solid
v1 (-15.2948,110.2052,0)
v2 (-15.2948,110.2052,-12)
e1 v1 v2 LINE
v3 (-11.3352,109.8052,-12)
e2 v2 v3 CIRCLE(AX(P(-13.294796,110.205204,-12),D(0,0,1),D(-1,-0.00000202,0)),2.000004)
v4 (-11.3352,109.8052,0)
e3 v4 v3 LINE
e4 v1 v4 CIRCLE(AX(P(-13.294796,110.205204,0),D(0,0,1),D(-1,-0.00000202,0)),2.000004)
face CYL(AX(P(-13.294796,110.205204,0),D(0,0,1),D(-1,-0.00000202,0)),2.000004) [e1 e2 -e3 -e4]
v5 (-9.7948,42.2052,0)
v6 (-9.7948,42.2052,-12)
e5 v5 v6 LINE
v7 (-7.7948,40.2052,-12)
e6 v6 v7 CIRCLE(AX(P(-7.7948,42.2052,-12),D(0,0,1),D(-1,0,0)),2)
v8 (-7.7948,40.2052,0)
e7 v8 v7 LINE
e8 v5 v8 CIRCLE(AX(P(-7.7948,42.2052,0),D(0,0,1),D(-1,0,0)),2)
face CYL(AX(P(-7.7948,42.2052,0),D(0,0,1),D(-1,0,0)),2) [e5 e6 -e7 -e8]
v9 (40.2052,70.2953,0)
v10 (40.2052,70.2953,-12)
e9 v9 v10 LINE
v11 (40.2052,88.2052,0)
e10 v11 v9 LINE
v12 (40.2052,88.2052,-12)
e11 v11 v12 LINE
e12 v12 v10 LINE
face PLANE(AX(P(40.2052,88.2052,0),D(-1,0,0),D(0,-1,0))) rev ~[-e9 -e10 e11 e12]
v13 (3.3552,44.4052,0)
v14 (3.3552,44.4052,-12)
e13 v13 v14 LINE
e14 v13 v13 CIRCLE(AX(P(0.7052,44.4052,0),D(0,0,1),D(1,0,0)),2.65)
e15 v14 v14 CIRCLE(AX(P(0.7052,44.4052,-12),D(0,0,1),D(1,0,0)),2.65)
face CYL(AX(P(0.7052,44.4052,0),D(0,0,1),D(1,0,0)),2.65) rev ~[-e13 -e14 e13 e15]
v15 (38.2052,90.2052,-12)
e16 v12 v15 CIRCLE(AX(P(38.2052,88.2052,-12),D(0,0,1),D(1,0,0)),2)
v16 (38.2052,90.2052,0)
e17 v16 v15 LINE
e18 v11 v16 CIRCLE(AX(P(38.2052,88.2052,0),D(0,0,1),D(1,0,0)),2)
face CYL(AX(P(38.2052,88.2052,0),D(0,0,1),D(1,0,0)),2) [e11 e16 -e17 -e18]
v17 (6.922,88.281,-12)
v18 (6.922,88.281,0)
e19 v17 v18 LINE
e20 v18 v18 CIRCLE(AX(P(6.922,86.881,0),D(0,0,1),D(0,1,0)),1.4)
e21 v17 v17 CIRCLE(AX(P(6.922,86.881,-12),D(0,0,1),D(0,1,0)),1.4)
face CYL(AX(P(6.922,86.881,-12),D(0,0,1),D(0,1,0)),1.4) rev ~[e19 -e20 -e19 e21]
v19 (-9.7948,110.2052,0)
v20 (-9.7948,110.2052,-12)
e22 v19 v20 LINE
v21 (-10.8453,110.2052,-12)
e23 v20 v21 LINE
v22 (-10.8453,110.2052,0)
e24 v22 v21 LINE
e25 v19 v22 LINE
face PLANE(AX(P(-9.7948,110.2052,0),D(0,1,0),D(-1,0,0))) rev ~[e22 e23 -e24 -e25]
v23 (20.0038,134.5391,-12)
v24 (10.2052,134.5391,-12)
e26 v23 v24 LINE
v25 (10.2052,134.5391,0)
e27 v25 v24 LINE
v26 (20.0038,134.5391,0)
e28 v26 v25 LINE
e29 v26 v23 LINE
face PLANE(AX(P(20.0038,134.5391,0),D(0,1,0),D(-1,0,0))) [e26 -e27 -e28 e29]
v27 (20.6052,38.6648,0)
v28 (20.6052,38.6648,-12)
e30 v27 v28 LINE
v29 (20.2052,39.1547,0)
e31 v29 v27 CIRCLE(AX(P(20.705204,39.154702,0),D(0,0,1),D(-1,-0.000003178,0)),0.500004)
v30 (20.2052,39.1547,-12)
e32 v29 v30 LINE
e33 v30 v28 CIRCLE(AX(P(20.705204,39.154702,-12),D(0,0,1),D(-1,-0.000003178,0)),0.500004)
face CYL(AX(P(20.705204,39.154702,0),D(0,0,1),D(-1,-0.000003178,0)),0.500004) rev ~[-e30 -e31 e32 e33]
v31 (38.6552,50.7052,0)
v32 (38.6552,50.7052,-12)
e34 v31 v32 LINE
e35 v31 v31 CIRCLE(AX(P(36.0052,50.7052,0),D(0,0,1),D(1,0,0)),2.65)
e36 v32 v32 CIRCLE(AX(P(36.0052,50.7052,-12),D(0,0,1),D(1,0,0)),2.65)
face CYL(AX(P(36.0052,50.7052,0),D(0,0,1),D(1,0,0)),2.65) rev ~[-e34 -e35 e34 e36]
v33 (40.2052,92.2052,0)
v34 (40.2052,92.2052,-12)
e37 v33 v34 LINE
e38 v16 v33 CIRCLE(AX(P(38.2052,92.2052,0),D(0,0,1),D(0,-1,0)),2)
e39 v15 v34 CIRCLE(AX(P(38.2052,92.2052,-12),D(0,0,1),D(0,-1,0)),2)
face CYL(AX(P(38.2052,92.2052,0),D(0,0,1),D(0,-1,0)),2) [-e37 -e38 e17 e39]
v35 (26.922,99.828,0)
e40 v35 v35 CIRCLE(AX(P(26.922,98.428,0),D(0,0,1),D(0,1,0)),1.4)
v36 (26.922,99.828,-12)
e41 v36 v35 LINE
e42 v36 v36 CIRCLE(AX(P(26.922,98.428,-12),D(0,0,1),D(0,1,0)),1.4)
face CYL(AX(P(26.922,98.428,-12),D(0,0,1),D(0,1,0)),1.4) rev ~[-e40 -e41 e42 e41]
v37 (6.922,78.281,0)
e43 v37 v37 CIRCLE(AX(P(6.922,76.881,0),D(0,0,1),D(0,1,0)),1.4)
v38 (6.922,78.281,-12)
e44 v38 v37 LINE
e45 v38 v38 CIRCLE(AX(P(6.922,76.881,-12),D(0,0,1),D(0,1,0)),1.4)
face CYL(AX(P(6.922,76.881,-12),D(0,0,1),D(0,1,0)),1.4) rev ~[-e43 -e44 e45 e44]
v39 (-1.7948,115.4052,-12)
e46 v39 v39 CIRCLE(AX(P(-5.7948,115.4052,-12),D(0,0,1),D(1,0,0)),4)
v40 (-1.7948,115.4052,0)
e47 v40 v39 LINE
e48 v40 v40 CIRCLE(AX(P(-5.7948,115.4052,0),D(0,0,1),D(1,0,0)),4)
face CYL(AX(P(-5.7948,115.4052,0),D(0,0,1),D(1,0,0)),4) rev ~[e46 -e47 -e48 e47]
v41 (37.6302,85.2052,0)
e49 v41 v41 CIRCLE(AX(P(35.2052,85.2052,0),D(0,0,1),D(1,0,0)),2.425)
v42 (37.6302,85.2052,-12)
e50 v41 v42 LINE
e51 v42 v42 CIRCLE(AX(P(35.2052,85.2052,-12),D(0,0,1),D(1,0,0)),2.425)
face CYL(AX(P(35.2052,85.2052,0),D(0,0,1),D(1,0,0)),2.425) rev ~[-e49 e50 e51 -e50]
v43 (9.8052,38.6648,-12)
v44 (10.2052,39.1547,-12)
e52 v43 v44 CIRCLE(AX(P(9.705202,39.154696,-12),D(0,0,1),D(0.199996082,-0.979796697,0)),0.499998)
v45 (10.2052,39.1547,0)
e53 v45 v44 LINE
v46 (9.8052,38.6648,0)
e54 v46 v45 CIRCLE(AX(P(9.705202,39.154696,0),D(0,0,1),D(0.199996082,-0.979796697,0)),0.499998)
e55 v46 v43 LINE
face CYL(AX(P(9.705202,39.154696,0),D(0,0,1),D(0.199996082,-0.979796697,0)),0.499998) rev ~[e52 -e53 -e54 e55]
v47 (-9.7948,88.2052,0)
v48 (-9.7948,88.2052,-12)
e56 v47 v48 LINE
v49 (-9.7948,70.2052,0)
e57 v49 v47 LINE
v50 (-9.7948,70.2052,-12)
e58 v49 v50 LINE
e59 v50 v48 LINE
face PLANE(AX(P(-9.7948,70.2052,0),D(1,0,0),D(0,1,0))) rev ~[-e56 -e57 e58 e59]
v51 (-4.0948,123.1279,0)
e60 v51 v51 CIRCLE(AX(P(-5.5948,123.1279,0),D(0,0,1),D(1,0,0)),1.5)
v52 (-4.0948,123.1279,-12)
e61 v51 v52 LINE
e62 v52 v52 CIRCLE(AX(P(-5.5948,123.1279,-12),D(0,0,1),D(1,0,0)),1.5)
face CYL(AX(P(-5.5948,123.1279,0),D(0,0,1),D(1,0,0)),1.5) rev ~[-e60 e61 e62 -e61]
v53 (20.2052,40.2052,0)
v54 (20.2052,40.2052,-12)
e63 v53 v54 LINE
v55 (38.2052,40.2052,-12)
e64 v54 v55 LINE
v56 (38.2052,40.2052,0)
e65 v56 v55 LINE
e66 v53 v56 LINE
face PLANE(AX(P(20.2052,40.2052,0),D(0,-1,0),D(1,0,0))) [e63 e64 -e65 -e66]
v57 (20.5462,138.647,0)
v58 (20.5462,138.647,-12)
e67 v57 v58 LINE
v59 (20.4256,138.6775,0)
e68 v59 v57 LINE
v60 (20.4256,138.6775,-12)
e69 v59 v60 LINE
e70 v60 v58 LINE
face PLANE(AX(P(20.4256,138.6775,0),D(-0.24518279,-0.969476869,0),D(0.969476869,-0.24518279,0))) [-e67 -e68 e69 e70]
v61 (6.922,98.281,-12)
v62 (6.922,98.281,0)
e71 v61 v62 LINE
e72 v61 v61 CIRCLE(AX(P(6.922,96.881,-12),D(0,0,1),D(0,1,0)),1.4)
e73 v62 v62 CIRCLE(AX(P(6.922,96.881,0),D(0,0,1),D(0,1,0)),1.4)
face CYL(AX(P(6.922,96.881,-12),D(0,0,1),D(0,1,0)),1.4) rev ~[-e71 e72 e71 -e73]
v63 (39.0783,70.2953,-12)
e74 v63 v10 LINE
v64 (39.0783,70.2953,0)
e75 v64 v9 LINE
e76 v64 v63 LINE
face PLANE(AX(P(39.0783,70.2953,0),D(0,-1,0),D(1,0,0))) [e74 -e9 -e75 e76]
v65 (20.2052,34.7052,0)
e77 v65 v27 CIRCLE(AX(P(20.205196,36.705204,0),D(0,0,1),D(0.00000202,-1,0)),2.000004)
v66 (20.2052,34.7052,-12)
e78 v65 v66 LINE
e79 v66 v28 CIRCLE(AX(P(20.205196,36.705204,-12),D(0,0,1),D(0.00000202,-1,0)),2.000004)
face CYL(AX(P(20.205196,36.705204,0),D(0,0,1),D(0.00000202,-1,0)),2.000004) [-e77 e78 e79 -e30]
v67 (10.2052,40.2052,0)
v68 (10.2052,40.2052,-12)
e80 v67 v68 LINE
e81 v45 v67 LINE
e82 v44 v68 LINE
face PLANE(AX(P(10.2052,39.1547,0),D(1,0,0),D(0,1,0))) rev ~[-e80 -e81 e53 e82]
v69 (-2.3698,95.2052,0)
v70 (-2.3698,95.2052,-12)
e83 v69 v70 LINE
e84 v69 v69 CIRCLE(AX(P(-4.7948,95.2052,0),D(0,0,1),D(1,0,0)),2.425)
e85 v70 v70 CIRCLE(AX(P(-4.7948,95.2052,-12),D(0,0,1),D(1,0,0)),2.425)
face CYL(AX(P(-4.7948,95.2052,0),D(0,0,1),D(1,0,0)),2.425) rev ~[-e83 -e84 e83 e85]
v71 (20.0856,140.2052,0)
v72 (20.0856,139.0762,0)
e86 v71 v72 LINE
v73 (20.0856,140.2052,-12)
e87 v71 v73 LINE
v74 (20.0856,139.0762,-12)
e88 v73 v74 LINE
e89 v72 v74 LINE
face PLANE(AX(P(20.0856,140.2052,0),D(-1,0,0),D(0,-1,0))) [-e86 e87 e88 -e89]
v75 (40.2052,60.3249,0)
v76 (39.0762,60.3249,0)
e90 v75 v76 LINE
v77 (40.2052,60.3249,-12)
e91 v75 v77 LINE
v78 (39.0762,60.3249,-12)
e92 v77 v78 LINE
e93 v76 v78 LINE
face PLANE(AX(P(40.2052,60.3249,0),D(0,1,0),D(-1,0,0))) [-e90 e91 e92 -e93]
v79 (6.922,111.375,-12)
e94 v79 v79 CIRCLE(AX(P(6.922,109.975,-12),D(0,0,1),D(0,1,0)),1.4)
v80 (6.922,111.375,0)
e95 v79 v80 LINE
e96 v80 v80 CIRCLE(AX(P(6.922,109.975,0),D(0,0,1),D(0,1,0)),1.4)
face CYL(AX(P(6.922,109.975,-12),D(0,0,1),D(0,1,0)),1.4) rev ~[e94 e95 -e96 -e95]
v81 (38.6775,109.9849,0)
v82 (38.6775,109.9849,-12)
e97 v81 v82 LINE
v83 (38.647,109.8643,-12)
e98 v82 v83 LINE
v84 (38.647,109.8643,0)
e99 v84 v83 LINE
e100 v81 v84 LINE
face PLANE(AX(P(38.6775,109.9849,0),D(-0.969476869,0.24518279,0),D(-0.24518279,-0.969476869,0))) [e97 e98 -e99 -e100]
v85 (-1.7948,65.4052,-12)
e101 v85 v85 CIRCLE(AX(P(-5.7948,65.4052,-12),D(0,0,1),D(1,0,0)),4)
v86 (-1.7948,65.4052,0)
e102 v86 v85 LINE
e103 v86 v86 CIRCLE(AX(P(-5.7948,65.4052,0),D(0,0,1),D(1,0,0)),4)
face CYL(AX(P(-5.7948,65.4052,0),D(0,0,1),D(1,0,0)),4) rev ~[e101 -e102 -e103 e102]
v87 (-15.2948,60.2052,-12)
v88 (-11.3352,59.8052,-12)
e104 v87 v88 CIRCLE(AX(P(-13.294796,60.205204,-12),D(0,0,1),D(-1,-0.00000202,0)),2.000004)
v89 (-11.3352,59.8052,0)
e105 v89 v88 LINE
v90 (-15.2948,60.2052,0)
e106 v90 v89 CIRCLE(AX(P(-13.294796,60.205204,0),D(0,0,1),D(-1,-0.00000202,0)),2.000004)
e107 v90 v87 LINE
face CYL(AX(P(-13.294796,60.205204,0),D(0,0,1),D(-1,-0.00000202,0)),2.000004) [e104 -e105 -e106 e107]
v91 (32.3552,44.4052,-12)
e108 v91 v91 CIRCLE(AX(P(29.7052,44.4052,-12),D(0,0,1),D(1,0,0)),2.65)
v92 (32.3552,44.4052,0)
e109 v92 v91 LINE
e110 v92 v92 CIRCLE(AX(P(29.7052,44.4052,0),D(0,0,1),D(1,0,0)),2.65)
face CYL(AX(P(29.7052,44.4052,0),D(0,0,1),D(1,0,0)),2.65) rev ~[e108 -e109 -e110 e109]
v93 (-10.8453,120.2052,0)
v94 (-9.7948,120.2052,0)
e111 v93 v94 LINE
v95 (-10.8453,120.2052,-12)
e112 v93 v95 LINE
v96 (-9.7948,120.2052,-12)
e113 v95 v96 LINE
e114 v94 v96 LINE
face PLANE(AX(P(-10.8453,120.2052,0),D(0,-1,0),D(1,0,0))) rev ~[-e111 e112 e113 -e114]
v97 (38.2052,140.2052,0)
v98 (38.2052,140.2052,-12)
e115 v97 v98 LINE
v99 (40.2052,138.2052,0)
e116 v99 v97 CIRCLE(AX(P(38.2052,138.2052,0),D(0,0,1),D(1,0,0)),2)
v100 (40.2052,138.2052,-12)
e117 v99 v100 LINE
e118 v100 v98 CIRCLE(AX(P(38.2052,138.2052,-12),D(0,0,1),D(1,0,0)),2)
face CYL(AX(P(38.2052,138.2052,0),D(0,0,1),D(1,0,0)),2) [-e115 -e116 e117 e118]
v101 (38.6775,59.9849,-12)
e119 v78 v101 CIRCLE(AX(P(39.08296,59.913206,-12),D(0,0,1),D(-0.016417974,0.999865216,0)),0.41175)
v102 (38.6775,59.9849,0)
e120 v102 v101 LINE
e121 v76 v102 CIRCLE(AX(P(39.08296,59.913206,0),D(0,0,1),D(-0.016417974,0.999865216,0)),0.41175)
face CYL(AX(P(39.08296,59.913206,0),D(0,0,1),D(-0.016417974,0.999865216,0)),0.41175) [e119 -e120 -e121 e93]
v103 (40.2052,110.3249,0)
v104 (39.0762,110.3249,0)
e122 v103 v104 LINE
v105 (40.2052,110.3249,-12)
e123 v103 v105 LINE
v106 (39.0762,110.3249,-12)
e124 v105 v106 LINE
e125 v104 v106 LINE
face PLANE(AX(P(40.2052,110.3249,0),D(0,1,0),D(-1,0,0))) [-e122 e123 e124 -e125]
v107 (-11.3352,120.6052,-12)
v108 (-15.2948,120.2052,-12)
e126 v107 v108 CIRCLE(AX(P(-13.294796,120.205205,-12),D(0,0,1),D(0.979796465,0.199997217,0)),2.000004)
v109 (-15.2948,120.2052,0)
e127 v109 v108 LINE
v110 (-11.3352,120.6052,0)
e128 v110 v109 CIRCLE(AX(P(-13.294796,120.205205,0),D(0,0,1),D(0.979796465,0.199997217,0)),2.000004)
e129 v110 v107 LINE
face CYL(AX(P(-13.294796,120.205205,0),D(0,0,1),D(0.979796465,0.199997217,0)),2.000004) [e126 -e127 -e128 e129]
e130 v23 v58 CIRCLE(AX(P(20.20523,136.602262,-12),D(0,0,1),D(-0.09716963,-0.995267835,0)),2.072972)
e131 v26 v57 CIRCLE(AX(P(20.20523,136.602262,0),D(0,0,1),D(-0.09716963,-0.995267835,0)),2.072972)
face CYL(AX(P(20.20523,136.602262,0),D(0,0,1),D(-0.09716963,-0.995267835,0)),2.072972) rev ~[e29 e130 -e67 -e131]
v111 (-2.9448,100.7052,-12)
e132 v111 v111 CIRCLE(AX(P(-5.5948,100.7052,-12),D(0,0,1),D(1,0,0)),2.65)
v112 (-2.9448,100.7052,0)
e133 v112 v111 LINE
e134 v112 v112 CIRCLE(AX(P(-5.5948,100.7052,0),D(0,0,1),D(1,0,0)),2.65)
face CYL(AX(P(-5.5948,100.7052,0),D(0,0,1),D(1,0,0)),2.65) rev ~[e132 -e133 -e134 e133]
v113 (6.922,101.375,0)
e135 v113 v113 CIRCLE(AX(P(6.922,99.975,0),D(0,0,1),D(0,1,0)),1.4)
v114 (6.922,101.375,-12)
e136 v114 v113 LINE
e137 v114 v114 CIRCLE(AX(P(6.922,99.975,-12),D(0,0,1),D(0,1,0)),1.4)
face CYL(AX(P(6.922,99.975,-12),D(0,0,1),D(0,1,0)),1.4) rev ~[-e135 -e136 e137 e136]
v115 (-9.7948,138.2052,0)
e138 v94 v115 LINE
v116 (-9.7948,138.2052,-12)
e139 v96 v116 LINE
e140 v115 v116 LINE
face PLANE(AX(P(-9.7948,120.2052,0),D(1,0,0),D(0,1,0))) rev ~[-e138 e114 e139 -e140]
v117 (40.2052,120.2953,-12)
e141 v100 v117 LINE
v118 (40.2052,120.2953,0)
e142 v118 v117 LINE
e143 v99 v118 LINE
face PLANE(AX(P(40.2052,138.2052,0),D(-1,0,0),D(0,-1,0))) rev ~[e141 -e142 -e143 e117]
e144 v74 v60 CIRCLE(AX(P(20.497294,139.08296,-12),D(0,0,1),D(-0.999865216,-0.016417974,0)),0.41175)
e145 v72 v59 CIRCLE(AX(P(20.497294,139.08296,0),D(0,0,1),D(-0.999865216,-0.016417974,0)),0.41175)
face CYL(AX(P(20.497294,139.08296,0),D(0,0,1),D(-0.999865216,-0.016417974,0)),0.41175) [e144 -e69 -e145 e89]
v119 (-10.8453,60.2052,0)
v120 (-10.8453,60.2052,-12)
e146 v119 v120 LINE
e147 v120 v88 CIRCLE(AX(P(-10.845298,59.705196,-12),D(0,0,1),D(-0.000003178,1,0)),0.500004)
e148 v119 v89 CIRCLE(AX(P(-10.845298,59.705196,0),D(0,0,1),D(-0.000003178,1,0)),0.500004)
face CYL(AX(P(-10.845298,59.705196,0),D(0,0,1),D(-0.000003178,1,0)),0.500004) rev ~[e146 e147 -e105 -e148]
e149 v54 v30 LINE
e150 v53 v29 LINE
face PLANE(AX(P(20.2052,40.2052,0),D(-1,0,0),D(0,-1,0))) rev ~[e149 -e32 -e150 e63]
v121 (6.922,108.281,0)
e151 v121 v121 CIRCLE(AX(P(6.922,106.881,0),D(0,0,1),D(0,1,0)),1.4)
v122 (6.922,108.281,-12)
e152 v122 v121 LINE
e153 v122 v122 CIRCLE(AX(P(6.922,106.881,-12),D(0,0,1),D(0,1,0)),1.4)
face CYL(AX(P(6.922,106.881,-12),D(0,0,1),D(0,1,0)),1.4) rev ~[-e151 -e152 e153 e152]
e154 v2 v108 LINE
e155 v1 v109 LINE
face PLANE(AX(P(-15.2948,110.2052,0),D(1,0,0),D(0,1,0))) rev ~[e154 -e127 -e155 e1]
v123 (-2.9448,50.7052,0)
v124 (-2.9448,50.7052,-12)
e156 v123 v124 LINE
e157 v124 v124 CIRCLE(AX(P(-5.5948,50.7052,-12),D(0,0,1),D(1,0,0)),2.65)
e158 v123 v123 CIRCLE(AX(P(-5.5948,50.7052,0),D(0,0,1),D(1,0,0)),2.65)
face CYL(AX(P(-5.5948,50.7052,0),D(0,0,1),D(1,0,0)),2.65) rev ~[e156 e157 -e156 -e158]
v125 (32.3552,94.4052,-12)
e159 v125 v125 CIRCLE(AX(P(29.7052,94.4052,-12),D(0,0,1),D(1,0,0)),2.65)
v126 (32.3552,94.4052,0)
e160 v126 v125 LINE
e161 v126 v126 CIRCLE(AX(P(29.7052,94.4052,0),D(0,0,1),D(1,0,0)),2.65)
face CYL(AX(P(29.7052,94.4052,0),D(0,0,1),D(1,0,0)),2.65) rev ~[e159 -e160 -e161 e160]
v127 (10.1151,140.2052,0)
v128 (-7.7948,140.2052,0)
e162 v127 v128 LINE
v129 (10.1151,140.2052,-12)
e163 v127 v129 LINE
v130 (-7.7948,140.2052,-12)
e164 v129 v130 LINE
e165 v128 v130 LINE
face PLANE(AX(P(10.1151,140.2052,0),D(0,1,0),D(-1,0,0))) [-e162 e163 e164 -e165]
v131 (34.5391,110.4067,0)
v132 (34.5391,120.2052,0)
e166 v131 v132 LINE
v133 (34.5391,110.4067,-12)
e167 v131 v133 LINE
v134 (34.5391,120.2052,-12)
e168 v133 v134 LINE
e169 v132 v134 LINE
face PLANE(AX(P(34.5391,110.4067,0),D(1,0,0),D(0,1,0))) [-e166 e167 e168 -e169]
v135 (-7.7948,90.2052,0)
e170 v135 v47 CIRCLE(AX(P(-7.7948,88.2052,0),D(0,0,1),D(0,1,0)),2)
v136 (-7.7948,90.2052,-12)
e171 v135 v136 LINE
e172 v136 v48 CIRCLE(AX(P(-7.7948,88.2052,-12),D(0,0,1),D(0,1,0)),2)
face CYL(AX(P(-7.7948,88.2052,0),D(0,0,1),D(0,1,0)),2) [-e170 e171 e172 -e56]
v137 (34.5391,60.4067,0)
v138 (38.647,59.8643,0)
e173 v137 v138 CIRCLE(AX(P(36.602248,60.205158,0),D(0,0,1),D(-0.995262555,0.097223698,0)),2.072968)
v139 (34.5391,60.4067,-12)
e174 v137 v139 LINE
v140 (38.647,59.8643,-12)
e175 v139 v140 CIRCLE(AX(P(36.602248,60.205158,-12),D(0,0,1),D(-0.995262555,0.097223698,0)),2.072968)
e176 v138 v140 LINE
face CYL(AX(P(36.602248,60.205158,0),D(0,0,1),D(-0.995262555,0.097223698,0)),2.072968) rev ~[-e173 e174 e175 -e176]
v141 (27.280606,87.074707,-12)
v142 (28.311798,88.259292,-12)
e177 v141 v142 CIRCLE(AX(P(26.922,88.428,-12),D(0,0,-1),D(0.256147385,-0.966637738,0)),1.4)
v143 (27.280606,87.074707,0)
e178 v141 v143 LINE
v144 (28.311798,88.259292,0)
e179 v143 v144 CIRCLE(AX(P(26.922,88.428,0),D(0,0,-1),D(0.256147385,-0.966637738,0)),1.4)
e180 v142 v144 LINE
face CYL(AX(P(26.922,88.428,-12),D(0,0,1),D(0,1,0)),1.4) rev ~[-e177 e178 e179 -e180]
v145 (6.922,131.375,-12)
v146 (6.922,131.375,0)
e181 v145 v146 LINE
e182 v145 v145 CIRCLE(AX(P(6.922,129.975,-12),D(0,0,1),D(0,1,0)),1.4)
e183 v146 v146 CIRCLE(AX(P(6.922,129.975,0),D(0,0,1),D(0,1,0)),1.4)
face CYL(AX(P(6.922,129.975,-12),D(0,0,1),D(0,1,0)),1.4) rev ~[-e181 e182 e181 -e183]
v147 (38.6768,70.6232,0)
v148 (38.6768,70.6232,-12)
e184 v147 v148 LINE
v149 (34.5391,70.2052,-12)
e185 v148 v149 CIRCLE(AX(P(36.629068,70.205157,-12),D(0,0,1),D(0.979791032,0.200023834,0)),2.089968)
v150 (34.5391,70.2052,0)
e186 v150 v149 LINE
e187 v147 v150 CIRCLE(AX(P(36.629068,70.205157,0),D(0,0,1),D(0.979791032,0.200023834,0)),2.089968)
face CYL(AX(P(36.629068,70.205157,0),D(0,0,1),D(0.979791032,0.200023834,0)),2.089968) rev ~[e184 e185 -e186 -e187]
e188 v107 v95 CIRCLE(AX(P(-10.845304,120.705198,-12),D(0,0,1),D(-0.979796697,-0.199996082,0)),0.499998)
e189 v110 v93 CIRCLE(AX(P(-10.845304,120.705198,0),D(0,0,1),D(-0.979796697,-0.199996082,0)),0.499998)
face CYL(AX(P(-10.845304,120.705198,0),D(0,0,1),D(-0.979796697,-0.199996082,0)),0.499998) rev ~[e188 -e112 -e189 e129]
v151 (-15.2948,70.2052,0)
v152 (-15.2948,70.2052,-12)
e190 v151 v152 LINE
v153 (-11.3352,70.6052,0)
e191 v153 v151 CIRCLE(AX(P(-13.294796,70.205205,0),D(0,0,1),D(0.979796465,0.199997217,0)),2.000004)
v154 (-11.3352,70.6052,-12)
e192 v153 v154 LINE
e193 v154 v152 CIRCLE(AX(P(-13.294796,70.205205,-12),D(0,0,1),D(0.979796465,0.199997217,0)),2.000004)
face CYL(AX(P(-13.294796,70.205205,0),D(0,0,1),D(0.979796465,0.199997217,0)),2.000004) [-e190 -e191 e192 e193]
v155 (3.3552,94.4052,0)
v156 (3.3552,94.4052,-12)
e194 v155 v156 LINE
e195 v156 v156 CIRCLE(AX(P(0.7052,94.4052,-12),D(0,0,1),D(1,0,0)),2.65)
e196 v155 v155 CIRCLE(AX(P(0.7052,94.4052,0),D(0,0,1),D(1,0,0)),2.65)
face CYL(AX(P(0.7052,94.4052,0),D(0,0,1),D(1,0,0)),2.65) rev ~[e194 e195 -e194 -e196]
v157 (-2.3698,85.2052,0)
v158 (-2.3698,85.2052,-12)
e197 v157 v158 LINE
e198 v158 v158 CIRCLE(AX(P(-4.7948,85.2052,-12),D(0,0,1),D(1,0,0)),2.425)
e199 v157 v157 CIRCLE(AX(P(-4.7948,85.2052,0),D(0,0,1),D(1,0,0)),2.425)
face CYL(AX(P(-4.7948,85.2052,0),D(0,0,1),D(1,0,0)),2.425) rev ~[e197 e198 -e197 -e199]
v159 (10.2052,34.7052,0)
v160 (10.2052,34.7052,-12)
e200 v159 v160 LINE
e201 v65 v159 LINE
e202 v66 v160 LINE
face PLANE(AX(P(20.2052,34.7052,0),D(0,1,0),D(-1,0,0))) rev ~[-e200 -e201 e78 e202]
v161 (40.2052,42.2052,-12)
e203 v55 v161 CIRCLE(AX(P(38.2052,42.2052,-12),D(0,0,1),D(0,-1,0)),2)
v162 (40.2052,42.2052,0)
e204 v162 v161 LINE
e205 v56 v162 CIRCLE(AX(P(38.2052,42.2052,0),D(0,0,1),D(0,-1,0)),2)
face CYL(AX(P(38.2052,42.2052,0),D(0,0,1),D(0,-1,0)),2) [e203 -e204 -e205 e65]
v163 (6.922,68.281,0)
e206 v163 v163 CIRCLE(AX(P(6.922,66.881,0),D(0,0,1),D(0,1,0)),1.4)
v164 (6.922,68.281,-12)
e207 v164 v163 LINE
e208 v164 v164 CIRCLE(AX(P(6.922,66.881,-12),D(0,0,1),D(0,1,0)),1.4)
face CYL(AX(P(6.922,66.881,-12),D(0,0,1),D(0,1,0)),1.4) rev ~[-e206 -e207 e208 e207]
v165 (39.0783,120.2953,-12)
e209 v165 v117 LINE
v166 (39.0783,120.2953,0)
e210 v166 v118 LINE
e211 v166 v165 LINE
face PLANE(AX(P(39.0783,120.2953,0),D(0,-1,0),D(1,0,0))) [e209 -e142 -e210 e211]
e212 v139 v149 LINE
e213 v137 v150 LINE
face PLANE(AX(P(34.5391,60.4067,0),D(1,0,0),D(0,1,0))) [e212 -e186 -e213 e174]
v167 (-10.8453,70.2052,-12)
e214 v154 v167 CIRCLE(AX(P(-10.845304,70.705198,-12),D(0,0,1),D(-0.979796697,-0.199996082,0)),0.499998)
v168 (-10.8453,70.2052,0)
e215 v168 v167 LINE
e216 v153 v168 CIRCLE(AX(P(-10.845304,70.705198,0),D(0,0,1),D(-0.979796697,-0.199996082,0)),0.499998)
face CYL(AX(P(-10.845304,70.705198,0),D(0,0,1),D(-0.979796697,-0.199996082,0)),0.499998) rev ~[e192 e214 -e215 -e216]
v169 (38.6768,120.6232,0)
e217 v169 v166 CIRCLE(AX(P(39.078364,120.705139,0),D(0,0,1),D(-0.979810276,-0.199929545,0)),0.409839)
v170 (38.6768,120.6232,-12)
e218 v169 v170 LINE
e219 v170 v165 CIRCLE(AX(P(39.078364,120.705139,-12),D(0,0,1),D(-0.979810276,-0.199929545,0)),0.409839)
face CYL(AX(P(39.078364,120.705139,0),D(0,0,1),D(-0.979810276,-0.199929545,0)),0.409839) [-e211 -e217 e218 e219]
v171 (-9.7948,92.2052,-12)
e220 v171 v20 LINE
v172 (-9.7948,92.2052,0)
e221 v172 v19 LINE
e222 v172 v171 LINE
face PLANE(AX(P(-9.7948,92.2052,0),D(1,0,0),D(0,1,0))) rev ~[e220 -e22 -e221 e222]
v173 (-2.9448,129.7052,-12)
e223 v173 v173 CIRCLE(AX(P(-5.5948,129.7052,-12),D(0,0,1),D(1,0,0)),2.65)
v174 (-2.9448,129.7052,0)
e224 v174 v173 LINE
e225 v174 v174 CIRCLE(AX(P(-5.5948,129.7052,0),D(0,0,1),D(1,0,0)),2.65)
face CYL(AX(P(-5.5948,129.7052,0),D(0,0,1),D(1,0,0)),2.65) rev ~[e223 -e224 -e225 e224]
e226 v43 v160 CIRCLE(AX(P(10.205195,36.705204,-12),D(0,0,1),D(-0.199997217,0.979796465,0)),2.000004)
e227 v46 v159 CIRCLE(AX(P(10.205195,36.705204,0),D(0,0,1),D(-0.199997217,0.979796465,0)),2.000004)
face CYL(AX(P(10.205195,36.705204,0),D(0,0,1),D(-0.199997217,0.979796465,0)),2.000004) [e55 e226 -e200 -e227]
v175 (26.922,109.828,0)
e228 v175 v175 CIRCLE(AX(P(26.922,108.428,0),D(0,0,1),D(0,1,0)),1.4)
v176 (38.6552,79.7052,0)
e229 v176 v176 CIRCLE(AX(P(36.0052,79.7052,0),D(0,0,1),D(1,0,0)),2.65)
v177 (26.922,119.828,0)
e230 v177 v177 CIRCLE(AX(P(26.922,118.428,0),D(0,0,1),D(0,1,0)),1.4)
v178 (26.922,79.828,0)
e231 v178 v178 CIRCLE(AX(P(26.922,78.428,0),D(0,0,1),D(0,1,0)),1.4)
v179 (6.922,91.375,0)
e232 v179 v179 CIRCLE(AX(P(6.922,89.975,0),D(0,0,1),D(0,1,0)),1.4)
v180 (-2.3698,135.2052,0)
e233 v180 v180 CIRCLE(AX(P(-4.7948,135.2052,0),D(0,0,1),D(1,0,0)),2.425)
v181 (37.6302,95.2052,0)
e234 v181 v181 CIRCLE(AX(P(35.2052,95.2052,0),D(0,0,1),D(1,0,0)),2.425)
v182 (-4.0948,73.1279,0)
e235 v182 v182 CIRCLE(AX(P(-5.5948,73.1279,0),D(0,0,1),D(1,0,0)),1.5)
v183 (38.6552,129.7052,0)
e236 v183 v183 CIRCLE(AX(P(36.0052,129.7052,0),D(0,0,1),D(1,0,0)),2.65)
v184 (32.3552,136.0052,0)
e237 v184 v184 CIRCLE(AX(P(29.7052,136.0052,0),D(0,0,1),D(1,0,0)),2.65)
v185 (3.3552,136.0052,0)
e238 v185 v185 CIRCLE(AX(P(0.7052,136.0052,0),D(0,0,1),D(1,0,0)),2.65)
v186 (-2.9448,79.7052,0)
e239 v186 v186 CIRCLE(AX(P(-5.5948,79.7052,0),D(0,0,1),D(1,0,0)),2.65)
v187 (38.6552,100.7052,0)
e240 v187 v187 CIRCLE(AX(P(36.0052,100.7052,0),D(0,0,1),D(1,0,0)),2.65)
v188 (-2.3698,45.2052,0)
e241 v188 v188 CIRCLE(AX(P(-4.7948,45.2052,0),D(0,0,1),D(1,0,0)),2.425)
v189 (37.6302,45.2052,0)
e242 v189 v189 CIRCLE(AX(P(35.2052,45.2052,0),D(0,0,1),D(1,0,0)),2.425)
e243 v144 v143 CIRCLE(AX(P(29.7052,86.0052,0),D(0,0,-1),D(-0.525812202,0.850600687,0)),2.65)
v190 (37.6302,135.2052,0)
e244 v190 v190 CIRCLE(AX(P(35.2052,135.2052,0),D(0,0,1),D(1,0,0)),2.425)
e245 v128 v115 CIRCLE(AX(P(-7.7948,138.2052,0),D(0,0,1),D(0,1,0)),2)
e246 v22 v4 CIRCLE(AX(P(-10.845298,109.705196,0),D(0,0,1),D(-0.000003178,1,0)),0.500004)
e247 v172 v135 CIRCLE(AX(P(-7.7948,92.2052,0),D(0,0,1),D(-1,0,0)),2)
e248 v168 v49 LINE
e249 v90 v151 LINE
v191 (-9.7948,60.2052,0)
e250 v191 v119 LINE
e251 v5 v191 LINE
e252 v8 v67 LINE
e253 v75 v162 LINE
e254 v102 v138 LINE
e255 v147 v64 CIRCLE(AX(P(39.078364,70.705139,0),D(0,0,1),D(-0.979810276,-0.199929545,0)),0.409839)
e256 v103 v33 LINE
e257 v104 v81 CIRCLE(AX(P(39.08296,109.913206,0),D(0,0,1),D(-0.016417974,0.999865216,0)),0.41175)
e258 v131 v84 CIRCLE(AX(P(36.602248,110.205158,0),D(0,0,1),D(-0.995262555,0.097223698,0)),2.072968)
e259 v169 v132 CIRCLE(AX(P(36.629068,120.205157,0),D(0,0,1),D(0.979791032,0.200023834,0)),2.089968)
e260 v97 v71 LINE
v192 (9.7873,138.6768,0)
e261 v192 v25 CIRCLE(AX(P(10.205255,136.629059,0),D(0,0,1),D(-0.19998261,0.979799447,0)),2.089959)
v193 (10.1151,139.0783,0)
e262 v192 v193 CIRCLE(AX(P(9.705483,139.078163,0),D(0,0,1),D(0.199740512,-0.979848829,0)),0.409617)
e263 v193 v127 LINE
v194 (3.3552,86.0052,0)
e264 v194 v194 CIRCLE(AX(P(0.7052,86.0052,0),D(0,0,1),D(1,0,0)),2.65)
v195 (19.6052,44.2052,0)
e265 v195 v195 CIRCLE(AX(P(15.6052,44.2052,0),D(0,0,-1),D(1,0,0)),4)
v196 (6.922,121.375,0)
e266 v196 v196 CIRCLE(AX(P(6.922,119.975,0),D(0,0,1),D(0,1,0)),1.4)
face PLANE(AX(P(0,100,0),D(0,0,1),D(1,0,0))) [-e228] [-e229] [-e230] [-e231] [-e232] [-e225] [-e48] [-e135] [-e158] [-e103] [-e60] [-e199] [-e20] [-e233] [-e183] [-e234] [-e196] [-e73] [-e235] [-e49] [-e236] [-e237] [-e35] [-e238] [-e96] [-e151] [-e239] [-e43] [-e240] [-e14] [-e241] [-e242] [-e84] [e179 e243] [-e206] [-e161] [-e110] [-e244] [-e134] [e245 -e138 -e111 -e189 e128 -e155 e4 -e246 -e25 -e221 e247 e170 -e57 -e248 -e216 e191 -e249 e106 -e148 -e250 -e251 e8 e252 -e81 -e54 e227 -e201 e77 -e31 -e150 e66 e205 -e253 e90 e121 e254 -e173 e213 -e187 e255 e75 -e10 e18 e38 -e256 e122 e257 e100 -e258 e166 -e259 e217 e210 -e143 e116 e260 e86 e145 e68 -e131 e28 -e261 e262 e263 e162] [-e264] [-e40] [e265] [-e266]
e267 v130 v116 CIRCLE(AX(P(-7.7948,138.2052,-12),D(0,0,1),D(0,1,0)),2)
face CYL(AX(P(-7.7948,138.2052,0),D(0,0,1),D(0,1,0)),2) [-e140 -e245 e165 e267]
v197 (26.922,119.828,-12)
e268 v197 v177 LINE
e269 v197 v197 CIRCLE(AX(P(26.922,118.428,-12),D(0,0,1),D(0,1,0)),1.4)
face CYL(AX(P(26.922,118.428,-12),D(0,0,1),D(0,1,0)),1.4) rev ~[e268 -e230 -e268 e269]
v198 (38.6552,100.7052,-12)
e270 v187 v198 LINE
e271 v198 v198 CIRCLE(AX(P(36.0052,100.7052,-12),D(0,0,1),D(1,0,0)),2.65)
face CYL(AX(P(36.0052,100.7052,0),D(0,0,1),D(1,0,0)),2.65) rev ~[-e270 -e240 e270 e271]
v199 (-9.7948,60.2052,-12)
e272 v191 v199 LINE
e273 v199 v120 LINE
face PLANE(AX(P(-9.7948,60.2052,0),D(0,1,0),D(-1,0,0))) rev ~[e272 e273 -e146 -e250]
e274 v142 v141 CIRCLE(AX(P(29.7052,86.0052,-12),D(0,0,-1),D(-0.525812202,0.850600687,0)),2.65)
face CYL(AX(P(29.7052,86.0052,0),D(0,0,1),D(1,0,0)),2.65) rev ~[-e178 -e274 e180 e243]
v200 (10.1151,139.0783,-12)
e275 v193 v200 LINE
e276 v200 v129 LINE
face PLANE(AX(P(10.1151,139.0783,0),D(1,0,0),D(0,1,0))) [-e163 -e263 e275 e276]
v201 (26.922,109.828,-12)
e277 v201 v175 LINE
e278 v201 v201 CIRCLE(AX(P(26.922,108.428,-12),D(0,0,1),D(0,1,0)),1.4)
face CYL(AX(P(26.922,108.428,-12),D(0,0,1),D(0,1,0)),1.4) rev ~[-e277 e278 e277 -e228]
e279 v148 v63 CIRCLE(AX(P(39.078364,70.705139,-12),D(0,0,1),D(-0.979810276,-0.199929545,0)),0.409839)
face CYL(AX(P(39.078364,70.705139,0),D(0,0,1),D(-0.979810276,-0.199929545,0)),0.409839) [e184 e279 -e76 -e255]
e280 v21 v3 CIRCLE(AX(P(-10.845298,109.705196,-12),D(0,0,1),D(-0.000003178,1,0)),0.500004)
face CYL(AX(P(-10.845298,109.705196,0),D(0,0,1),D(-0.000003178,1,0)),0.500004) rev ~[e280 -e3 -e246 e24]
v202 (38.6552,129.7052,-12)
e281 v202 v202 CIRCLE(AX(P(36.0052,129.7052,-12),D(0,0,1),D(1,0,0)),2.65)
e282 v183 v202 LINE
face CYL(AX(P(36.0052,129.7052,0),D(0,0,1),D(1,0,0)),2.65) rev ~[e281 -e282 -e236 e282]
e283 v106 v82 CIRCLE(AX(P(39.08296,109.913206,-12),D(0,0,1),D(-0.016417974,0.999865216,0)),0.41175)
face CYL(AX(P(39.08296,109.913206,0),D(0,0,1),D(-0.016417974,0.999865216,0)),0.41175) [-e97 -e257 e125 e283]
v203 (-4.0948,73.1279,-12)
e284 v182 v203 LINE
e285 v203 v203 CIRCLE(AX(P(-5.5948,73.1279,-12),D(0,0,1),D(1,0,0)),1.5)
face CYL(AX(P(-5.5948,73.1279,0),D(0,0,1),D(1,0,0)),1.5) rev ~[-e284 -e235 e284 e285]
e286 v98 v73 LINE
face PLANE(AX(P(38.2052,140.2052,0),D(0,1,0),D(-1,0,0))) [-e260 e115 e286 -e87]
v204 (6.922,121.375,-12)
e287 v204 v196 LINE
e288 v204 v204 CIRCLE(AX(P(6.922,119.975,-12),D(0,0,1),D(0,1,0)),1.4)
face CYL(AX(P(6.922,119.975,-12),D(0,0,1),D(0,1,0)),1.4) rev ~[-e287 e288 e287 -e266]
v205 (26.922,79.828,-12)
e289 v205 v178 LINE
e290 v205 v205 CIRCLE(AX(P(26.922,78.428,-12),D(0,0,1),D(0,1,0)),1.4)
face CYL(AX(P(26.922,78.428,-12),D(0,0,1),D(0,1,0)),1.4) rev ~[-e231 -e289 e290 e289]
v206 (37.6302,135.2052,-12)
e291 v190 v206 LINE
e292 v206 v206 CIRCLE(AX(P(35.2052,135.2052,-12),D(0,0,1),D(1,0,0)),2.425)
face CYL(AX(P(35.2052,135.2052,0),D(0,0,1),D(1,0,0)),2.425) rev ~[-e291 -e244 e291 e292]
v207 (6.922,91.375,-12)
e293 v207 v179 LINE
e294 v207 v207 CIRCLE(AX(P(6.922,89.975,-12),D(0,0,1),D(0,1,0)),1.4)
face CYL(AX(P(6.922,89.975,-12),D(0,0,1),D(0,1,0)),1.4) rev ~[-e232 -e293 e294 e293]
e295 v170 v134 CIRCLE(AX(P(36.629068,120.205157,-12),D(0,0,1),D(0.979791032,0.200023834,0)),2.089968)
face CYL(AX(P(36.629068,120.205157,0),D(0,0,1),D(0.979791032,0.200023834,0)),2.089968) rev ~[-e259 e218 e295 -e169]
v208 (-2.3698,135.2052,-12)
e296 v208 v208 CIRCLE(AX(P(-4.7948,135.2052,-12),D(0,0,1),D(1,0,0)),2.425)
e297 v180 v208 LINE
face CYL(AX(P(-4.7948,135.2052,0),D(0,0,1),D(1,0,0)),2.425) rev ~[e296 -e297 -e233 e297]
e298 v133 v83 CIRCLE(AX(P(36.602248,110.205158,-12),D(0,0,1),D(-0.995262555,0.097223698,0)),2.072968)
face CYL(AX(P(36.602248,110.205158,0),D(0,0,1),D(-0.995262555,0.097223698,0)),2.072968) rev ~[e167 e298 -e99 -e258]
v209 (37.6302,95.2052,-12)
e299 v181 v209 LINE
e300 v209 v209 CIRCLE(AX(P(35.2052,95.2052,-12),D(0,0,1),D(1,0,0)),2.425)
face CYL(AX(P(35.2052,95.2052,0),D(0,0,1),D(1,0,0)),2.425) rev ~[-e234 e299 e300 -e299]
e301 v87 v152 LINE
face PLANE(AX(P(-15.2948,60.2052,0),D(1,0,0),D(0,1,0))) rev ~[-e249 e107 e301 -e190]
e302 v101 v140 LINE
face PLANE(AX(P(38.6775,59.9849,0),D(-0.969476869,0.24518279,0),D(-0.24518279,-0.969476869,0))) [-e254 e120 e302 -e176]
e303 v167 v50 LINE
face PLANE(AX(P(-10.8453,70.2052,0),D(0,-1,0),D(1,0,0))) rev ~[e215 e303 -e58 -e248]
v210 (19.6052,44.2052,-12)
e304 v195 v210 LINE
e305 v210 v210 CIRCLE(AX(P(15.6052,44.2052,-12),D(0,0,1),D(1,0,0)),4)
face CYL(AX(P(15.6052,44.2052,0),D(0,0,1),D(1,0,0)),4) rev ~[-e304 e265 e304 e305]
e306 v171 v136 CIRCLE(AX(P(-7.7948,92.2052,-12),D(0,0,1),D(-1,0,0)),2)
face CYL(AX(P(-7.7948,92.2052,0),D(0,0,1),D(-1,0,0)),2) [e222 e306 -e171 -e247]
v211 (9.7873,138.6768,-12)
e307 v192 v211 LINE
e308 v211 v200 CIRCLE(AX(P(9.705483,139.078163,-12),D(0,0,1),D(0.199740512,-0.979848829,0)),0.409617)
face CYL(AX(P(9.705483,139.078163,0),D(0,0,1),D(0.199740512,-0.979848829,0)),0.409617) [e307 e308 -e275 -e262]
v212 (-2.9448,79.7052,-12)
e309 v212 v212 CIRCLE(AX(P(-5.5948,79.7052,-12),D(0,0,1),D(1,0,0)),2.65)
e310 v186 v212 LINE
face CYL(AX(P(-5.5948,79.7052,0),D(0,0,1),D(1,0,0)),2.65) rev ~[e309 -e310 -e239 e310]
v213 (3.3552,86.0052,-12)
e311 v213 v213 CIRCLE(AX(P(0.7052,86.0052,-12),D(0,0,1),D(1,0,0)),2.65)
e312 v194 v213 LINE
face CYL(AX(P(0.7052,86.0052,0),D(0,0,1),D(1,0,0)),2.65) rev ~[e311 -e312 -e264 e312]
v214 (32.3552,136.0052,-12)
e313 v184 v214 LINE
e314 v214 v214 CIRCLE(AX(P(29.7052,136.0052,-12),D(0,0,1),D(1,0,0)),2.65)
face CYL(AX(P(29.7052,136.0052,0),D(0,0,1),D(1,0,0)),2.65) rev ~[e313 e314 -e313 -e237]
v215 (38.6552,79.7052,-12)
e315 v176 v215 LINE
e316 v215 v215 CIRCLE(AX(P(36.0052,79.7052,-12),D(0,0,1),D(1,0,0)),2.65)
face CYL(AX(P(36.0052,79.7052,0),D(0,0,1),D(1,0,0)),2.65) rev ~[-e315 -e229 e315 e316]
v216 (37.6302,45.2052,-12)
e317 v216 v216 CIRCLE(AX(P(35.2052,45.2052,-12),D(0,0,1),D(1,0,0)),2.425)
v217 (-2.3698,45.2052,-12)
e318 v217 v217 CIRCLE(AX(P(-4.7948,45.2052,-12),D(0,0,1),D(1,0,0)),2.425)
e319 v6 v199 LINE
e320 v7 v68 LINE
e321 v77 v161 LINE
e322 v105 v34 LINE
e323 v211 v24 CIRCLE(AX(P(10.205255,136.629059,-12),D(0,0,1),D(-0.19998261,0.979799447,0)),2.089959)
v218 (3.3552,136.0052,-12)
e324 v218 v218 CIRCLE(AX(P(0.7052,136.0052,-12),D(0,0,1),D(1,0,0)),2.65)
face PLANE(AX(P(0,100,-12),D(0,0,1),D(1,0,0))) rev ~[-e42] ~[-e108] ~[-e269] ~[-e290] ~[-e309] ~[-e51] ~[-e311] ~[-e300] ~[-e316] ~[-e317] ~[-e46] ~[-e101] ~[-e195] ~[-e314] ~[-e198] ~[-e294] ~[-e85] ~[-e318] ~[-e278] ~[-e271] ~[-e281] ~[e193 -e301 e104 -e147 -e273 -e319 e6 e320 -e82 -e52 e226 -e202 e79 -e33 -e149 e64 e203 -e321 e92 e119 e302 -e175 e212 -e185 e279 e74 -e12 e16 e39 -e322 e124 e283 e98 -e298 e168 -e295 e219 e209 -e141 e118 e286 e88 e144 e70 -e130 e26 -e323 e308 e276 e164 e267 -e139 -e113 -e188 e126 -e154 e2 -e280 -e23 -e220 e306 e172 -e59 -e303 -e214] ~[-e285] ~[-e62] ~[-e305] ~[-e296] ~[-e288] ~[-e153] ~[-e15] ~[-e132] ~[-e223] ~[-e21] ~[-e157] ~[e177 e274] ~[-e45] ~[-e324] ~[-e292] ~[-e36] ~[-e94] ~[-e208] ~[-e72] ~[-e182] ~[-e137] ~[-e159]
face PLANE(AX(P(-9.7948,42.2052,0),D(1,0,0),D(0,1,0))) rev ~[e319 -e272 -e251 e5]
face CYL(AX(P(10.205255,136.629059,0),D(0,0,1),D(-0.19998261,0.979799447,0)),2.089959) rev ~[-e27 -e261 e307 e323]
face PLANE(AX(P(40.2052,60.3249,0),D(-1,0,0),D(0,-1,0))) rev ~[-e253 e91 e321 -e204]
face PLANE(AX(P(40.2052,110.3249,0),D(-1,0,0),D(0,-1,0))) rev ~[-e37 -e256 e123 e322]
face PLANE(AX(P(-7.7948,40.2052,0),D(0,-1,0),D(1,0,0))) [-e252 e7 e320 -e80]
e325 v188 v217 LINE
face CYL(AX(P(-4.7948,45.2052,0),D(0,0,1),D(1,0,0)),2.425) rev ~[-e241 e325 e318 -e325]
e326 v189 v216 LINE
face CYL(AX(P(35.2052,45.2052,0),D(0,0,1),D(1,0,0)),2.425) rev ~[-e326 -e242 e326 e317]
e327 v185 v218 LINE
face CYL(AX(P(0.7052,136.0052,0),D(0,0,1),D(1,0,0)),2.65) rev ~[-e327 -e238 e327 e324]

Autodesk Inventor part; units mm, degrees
ref_plane "YZ Plane" through (0, 0, 0) normal (1, 0, 0) x (0, 1, 0)
ref_plane "XZ Plane" through (0, 0, 0) normal (0, 1, 0) x (-1, 0, 0)
ref_plane "XY Plane" through (0, 0, 0) normal (0, 0, 1) x (1, 0, 0)
ref_plane "Work Plane1" through (0, 100, 0) normal (0, 0, 1) x (1, 0, 0)
sketch "Sketch1" plane through (0, 100, 0) normal (0, 0, 1) x (1, 0, 0)
  circle A0 centre (-5.5948, 23.1279) radius 1.5
  line L0 (30.2052, 32.2052) -> (0.2052, 32.2052)
  arc A1 (32.2052, 30.2052) -> (30.2052, 32.2052) centre (30.2052, 30.2052) ccw
  line L1 (32.2052, 30.2052) -> (32.2052, 0.2052)
  arc A2 (30.2052, -1.7948) -> (32.2052, 0.2052) centre (30.2052, 0.2052) ccw
  line L2 (15.6052, -1.7948) -> (30.2052, -1.7948)
  circle A3 centre (15.6052, -5.7948) radius 4
  line L3 (0.2052, -1.7948) -> (15.6052, -1.7948)
  arc A4 (-1.7948, 0.2052) -> (0.2052, -1.7948) centre (0.2052, 0.2052) ccw
  line L4 (-1.7948, 0.2052) -> (-1.7948, 15.4052)
  circle A5 centre (-5.7948, 15.4052) radius 4
  line L5 (-1.7948, 15.4052) -> (-1.7948, 30.2052)
  arc A6 (0.2052, 32.2052) -> (-1.7948, 30.2052) centre (0.2052, 30.2052) ccw
  circle A7 centre (-4.7948, -4.7948) radius 2.425
  circle A8 centre (0.7052, -5.5948) radius 2.65
  circle A9 centre (-5.5948, 0.7052) radius 2.65
  circle A10 centre (-5.5948, 29.7052) radius 2.65
  circle A11 centre (0.7052, 36.0052) radius 2.65
  circle A12 centre (-4.7948, 35.2052) radius 2.425
  circle A13 centre (36.0052, 0.7052) radius 2.65
  circle A14 centre (29.7052, -5.5948) radius 2.65
  circle A15 centre (35.2052, -4.7948) radius 2.425
  circle A16 centre (36.0052, 29.7052) radius 2.65
  circle A17 centre (29.7052, 36.0052) radius 2.65
  circle A18 centre (35.2052, 35.2052) radius 2.425
  line L6 (20.0856, 40.2052) -> (20.0856, 39.0762)
  arc A19 (20.0856, 39.0762) -> (20.4256, 38.6775) centre (20.4974, 39.083) ccw
  line L7 (20.4256, 38.6775) -> (20.5462, 38.647)
  arc A20 (20.0038, 34.5391) -> (20.5462, 38.647) centre (20.2052, 36.6023) ccw
  line L8 (20.0038, 34.5391) -> (10.2052, 34.5391)
  arc A21 (9.7873, 38.6768) -> (10.2052, 34.5391) centre (10.2052, 36.6291) ccw
  arc A22 (9.7873, 38.6768) -> (10.1151, 39.0783) centre (9.7054, 39.0783) ccw
  line L9 (10.1151, 39.0783) -> (10.1151, 40.2052)
  line L10 (10.1151, 40.2052) -> (-7.7948, 40.2052)
  arc A23 (-7.7948, 40.2052) -> (-9.7948, 38.2052) centre (-7.7948, 38.2052) ccw
  line L11 (-9.7948, 20.2052) -> (-9.7948, 38.2052)
  line L12 (-10.8453, 20.2052) -> (-9.7948, 20.2052)
  arc A24 (-11.3352, 20.6052) -> (-10.8453, 20.2052) centre (-10.8453, 20.7052) ccw
  arc A25 (-11.3352, 20.6052) -> (-15.2948, 20.2052) centre (-13.2948, 20.2052) ccw
  line L13 (-15.2948, 10.2052) -> (-15.2948, 20.2052)
  arc A26 (-15.2948, 10.2052) -> (-11.3352, 9.8052) centre (-13.2948, 10.2052) ccw
  arc A27 (-10.8453, 10.2052) -> (-11.3352, 9.8052) centre (-10.8453, 9.7052) ccw
  line L14 (-9.7948, 10.2052) -> (-10.8453, 10.2052)
  line L15 (-9.7948, -7.7948) -> (-9.7948, 10.2052)
  arc A28 (-9.7948, -7.7948) -> (-7.7948, -9.7948) centre (-7.7948, -7.7948) ccw
  line L16 (-7.7948, -9.7948) -> (10.2052, -9.7948)
  line L17 (10.2052, -10.8453) -> (10.2052, -9.7948)
  arc A29 (9.8052, -11.3352) -> (10.2052, -10.8453) centre (9.7052, -10.8453) ccw
  arc A30 (9.8052, -11.3352) -> (10.2052, -15.2948) centre (10.2052, -13.2948) ccw
  line L18 (20.2052, -15.2948) -> (10.2052, -15.2948)
  arc A31 (20.2052, -15.2948) -> (20.6052, -11.3352) centre (20.2052, -13.2948) ccw
  arc A32 (20.2052, -10.8453) -> (20.6052, -11.3352) centre (20.7052, -10.8453) ccw
  line L19 (20.2052, -9.7948) -> (20.2052, -10.8453)
  line L20 (20.2052, -9.7948) -> (38.2052, -9.7948)
  arc A33 (38.2052, -9.7948) -> (40.2052, -7.7948) centre (38.2052, -7.7948) ccw
  line L21 (40.2052, 10.3249) -> (40.2052, -7.7948)
  line L22 (40.2052, 10.3249) -> (39.0762, 10.3249)
  arc A34 (39.0762, 10.3249) -> (38.6775, 9.9849) centre (39.083, 9.9131) ccw
  line L23 (38.6775, 9.9849) -> (38.647, 9.8643)
  arc A35 (34.5391, 10.4067) -> (38.647, 9.8643) centre (36.6023, 10.2052) ccw
  line L24 (34.5391, 10.4067) -> (34.5391, 20.2052)
  arc A36 (38.6768, 20.6232) -> (34.5391, 20.2052) centre (36.6291, 20.2052) ccw
  arc A37 (38.6768, 20.6232) -> (39.0783, 20.2953) centre (39.0783, 20.7051) ccw
  line L25 (39.0783, 20.2953) -> (40.2052, 20.2953)
  line L26 (40.2052, 38.2052) -> (40.2052, 20.2953)
  arc A38 (40.2052, 38.2052) -> (38.2052, 40.2052) centre (38.2052, 38.2052) ccw
  line L27 (38.2052, 40.2052) -> (20.0856, 40.2052)
  circle A39 centre (-5.5948, -26.8721) radius 1.5
  line L28 (30.2052, -17.7948) -> (0.2052, -17.7948)
  arc A40 (32.2052, -19.7948) -> (30.2052, -17.7948) centre (30.2052, -19.7948) ccw
  line L29 (32.2052, -19.7948) -> (32.2052, -49.7948)
  arc A41 (30.2052, -51.7948) -> (32.2052, -49.7948) centre (30.2052, -49.7948) ccw
  line L30 (15.6052, -51.7948) -> (30.2052, -51.7948)
  circle A42 centre (15.6052, -55.7948) radius 4
  line L31 (0.2052, -51.7948) -> (15.6052, -51.7948)
  arc A43 (-1.7948, -49.7948) -> (0.2052, -51.7948) centre (0.2052, -49.7948) ccw
  line L32 (-1.7948, -49.7948) -> (-1.7948, -34.5948)
  circle A44 centre (-5.7948, -34.5948) radius 4
  line L33 (-1.7948, -34.5948) -> (-1.7948, -19.7948)
  arc A45 (0.2052, -17.7948) -> (-1.7948, -19.7948) centre (0.2052, -19.7948) ccw
  circle A46 centre (-4.7948, -54.7948) radius 2.425
  circle A47 centre (0.7052, -55.5948) radius 2.65
  circle A48 centre (-5.5948, -49.2948) radius 2.65
  circle A49 centre (-5.5948, -20.2948) radius 2.65
  circle A50 centre (0.7052, -13.9948) radius 2.65
  circle A51 centre (-4.7948, -14.7948) radius 2.425
  circle A52 centre (36.0052, -49.2948) radius 2.65
  circle A53 centre (29.7052, -55.5948) radius 2.65
  circle A54 centre (35.2052, -54.7948) radius 2.425
  circle A55 centre (36.0052, -20.2948) radius 2.65
  circle A56 centre (29.7052, -13.9948) radius 2.65
  circle A57 centre (35.2052, -14.7948) radius 2.425
  line L34 (20.0856, -9.7948) -> (20.0856, -10.9238)
  arc A58 (20.0856, -10.9238) -> (20.4256, -11.3225) centre (20.4974, -10.917) ccw
  line L35 (20.4256, -11.3225) -> (20.5462, -11.353)
  arc A59 (20.0038, -15.4609) -> (20.5462, -11.353) centre (20.2052, -13.3977) ccw
  line L36 (20.0038, -15.4609) -> (10.2052, -15.4609)
  arc A60 (9.7873, -11.3232) -> (10.2052, -15.4609) centre (10.2052, -13.3709) ccw
  arc A61 (9.7873, -11.3232) -> (10.1151, -10.9217) centre (9.7054, -10.9217) ccw
  line L37 (10.1151, -10.9217) -> (10.1151, -9.7948)
  line L38 (10.1151, -9.7948) -> (-7.7948, -9.7948)
  arc A62 (-7.7948, -9.7948) -> (-9.7948, -11.7948) centre (-7.7948, -11.7948) ccw
  line L39 (-9.7948, -29.7948) -> (-9.7948, -11.7948)
  line L40 (-10.8453, -29.7948) -> (-9.7948, -29.7948)
  arc A63 (-11.3352, -29.3948) -> (-10.8453, -29.7948) centre (-10.8453, -29.2948) ccw
  arc A64 (-11.3352, -29.3948) -> (-15.2948, -29.7948) centre (-13.2948, -29.7948) ccw
  line L41 (-15.2948, -39.7948) -> (-15.2948, -29.7948)
  arc A65 (-15.2948, -39.7948) -> (-11.3352, -40.1948) centre (-13.2948, -39.7948) ccw
  arc A66 (-10.8453, -39.7948) -> (-11.3352, -40.1948) centre (-10.8453, -40.2948) ccw
  line L42 (-9.7948, -39.7948) -> (-10.8453, -39.7948)
  line L43 (-9.7948, -57.7948) -> (-9.7948, -39.7948)
  arc A67 (-9.7948, -57.7948) -> (-7.7948, -59.7948) centre (-7.7948, -57.7948) ccw
  line L44 (-7.7948, -59.7948) -> (10.2052, -59.7948)
  line L45 (10.2052, -60.8453) -> (10.2052, -59.7948)
  arc A68 (9.8052, -61.3352) -> (10.2052, -60.8453) centre (9.7052, -60.8453) ccw
  arc A69 (9.8052, -61.3352) -> (10.2052, -65.2948) centre (10.2052, -63.2948) ccw
  line L46 (20.2052, -65.2948) -> (10.2052, -65.2948)
  arc A70 (20.2052, -65.2948) -> (20.6052, -61.3352) centre (20.2052, -63.2948) ccw
  arc A71 (20.2052, -60.8453) -> (20.6052, -61.3352) centre (20.7052, -60.8453) ccw
  line L47 (20.2052, -59.7948) -> (20.2052, -60.8453)
  line L48 (20.2052, -59.7948) -> (38.2052, -59.7948)
  arc A72 (38.2052, -59.7948) -> (40.2052, -57.7948) centre (38.2052, -57.7948) ccw
  line L49 (40.2052, -39.6751) -> (40.2052, -57.7948)
  line L50 (40.2052, -39.6751) -> (39.0762, -39.6751)
  arc A73 (39.0762, -39.6751) -> (38.6775, -40.0151) centre (39.083, -40.0869) ccw
  line L51 (38.6775, -40.0151) -> (38.647, -40.1357)
  arc A74 (34.5391, -39.5933) -> (38.647, -40.1357) centre (36.6023, -39.7948) ccw
  line L52 (34.5391, -39.5933) -> (34.5391, -29.7948)
  arc A75 (38.6768, -29.3768) -> (34.5391, -29.7948) centre (36.6291, -29.7948) ccw
  arc A76 (38.6768, -29.3768) -> (39.0783, -29.7047) centre (39.0783, -29.2949) ccw
  line L53 (39.0783, -29.7047) -> (40.2052, -29.7047)
  line L54 (40.2052, -11.7948) -> (40.2052, -29.7047)
  arc A77 (40.2052, -11.7948) -> (38.2052, -9.7948) centre (38.2052, -11.7948) ccw
  line L55 (38.2052, -9.7948) -> (20.0856, -9.7948)
  point P0 (0, -100)
  point P1 (21.6421, -11.9035)
extrude "Extrusion1" add sketch "Sketch1" against normal blind 12 contours A1 L1 A2 L2 L3 A4 L4 L5 A6 L0 | A3 | L27 A38 L26 L25 A37 A36 L24 A35 L23 A34 L22 L21 A33 L20 L55 L34 A58 L35 A59 A31 L18 A30 A29 L17 L16 A28 L15 L14 A27 A26 L13 A25 A24 L12 L11 A23 L10 L9 A22 A21 L8 A20 L7 A19 L6 | A77 L54 L53 A76 A75 L52 A74 L51 A73 L50 L49 A72 L48 L47 A71 A70 L46 A69 A68 L45 L44 A67 L43 L42 A66 A65 L41 A64 A63 L40 L39 A62 L16 L37 A61 A60 L36 A59 A31 A32 L19 L20 | L19 A32 A31 A59 L35 A58 L34 L55 | A59 L36 A60 A61 L37 L16 L17 A29 A30 L18 A31 | A40 L29 A41 L30 L31 A43 L32 L33 A45 L28
sketch "Sketch2" plane through (0, 100, -12) normal (0, 0, -1) x (-1, 0, 0)
  line L0 (-40.2052, 10.3249) -> (-40.2052, -7.7948)
  arc A0 (-40.2052, -7.7948) -> (-38.2052, -9.7948) centre (-38.2052, -7.7948) ccw
  arc A1 (-38.2052, -9.7948) -> (-40.2052, -11.7948) centre (-38.2052, -11.7948) ccw
  line L1 (-40.2052, -11.7948) -> (-40.2052, -29.7047)
  line L2 (-40.2052, -29.7047) -> (-39.0783, -29.7047)
  arc A2 (-39.0783, -29.7047) -> (-38.6768, -29.3768) centre (-39.0783, -29.2949) ccw
  arc A3 (-34.5391, -29.7948) -> (-38.6768, -29.3768) centre (-36.6291, -29.7948) ccw
  line L3 (-34.5391, -29.7948) -> (-34.5391, -39.5933)
  arc A4 (-38.647, -40.1357) -> (-34.5391, -39.5933) centre (-36.6023, -39.7948) ccw
  line L4 (-38.647, -40.1357) -> (-38.6775, -40.0151)
  arc A5 (-38.6775, -40.0151) -> (-39.0762, -39.6751) centre (-39.083, -40.0869) ccw
  line L5 (-39.0762, -39.6751) -> (-40.2052, -39.6751)
  line L6 (-40.2052, -39.6751) -> (-40.2052, -57.7948)
  arc A6 (-40.2052, -57.7948) -> (-38.2052, -59.7948) centre (-38.2052, -57.7948) ccw
  line L7 (-38.2052, -59.7948) -> (-20.2052, -59.7948)
  line L8 (-20.2052, -59.7948) -> (-20.2052, -60.8453)
  arc A7 (-20.6052, -61.3352) -> (-20.2052, -60.8453) centre (-20.7052, -60.8453) ccw
  arc A8 (-20.6052, -61.3352) -> (-20.2052, -65.2948) centre (-20.2052, -63.2948) ccw
  line L9 (-20.2052, -65.2948) -> (-10.2052, -65.2948)
  arc A9 (-10.2052, -65.2948) -> (-9.8052, -61.3352) centre (-10.2052, -63.2948) ccw
  arc A10 (-10.2052, -60.8453) -> (-9.8052, -61.3352) centre (-9.7052, -60.8453) ccw
  line L10 (-10.2052, -60.8453) -> (-10.2052, -59.7948)
  line L11 (-10.2052, -59.7948) -> (7.7948, -59.7948)
  arc A11 (7.7948, -59.7948) -> (9.7948, -57.7948) centre (7.7948, -57.7948) ccw
  line L12 (9.7948, -57.7948) -> (9.7948, -39.7948)
  line L13 (9.7948, -39.7948) -> (10.8453, -39.7948)
  arc A12 (11.3352, -40.1948) -> (10.8453, -39.7948) centre (10.8453, -40.2948) ccw
  arc A13 (11.3352, -40.1948) -> (15.2948, -39.7948) centre (13.2948, -39.7948) ccw
  line L14 (15.2948, -39.7948) -> (15.2948, -29.7948)
  arc A14 (15.2948, -29.7948) -> (11.3352, -29.3948) centre (13.2948, -29.7948) ccw
  arc A15 (10.8453, -29.7948) -> (11.3352, -29.3948) centre (10.8453, -29.2948) ccw
  line L15 (10.8453, -29.7948) -> (9.7948, -29.7948)
  line L16 (9.7948, -29.7948) -> (9.7948, -11.7948)
  arc A16 (9.7948, -11.7948) -> (7.7948, -9.7948) centre (7.7948, -11.7948) ccw
  arc A17 (7.7948, -9.7948) -> (9.7948, -7.7948) centre (7.7948, -7.7948) ccw
  line L17 (9.7948, -7.7948) -> (9.7948, 10.2052)
  line L18 (9.7948, 10.2052) -> (10.8453, 10.2052)
  arc A18 (11.3352, 9.8052) -> (10.8453, 10.2052) centre (10.8453, 9.7052) ccw
  arc A19 (11.3352, 9.8052) -> (15.2948, 10.2052) centre (13.2948, 10.2052) ccw
  line L19 (15.2948, 10.2052) -> (15.2948, 20.2052)
  arc A20 (15.2948, 20.2052) -> (11.3352, 20.6052) centre (13.2948, 20.2052) ccw
  arc A21 (10.8453, 20.2052) -> (11.3352, 20.6052) centre (10.8453, 20.7052) ccw
  line L20 (10.8453, 20.2052) -> (9.7948, 20.2052)
  line L21 (9.7948, 20.2052) -> (9.7948, 38.2052)
  arc A22 (9.7948, 38.2052) -> (7.7948, 40.2052) centre (7.7948, 38.2052) ccw
  line L22 (7.7948, 40.2052) -> (-10.1151, 40.2052)
  line L23 (-10.1151, 40.2052) -> (-10.1151, 39.0783)
  arc A23 (-10.1151, 39.0783) -> (-9.7873, 38.6768) centre (-9.7054, 39.0783) ccw
  arc A24 (-10.2052, 34.5391) -> (-9.7873, 38.6768) centre (-10.2052, 36.6291) ccw
  line L24 (-10.2052, 34.5391) -> (-20.0038, 34.5391)
  arc A25 (-20.5462, 38.647) -> (-20.0038, 34.5391) centre (-20.2052, 36.6023) ccw
  line L25 (-20.5462, 38.647) -> (-20.4256, 38.6775)
  arc A26 (-20.4256, 38.6775) -> (-20.0856, 39.0762) centre (-20.4974, 39.083) ccw
  line L26 (-20.0856, 39.0762) -> (-20.0856, 40.2052)
  line L27 (-20.0856, 40.2052) -> (-38.2052, 40.2052)
  arc A27 (-38.2052, 40.2052) -> (-40.2052, 38.2052) centre (-38.2052, 38.2052) ccw
  line L28 (-40.2052, 38.2052) -> (-40.2052, 20.2953)
  line L29 (-40.2052, 20.2953) -> (-39.0783, 20.2953)
  arc A28 (-39.0783, 20.2953) -> (-38.6768, 20.6232) centre (-39.0783, 20.7051) ccw
  arc A29 (-34.5391, 20.2052) -> (-38.6768, 20.6232) centre (-36.6291, 20.2052) ccw
  line L30 (-34.5391, 20.2052) -> (-34.5391, 10.4067)
  arc A30 (-38.647, 9.8643) -> (-34.5391, 10.4067) centre (-36.6023, 10.2052) ccw
  line L31 (-38.647, 9.8643) -> (-38.6775, 9.9849)
  arc A31 (-38.6775, 9.9849) -> (-39.0762, 10.3249) centre (-39.083, 9.9131) ccw
  line L32 (-39.0762, 10.3249) -> (-40.2052, 10.3249)
  circle A32 centre (-29.7052, 36.0052) radius 2.65
  circle A33 centre (-35.2052, -4.7948) radius 2.425
  circle A34 centre (-36.0052, 0.7052) radius 2.65
  circle A35 centre (5.7948, 15.4052) radius 4
  circle A36 centre (5.5948, 23.1279) radius 1.5
  circle A37 centre (4.7948, -4.7948) radius 2.425
  circle A38 centre (-0.7052, -5.5948) radius 2.65
  circle A39 centre (5.5948, 0.7052) radius 2.65
  circle A40 centre (5.5948, 29.7052) radius 2.65
  circle A41 centre (-0.7052, 36.0052) radius 2.65
  circle A42 centre (4.7948, 35.2052) radius 2.425
  circle A43 centre (-29.7052, -5.5948) radius 2.65
  circle A44 centre (-36.0052, 29.7052) radius 2.65
  circle A45 centre (-35.2052, 35.2052) radius 2.425
  circle A46 centre (-15.6052, -55.7948) radius 4
  circle A47 centre (-35.2052, -14.7948) radius 2.425
  circle A48 centre (-36.0052, -20.2948) radius 2.65
  circle A49 centre (-29.7052, -55.5948) radius 2.65
  circle A50 centre (4.7948, -14.7948) radius 2.425
  circle A51 centre (5.5948, -20.2948) radius 2.65
  circle A52 centre (-0.7052, -55.5948) radius 2.65
  circle A53 centre (5.7948, -34.5948) radius 4
  circle A54 centre (5.5948, -26.8721) radius 1.5
  circle A55 centre (4.7948, -54.7948) radius 2.425
  circle A56 centre (5.5948, -49.2948) radius 2.65
  circle A57 centre (-0.7052, -13.9948) radius 2.65
  circle A58 centre (-36.0052, -49.2948) radius 2.65
  circle A59 centre (-35.2052, -54.7948) radius 2.425
  circle A60 centre (-29.7052, -13.9948) radius 2.65
  line L33 (-6.922, 6.881) -> (-26.922, 18.428)
  line L34 (-26.922, 18.428) -> (-6.922, 29.975)
  line L35 (-6.922, 29.975) -> (-6.922, 6.881)
  line L36 (9.7948, 20.2052) -> (9.7948, 38.2052)
  point P0 (0, -100)
  point P1 (-13.5887, 18.428)
  dimension "d2" = 20
hole "Hole1" at (26.922, 118.428, -12) at (6.922, 106.881, -12) at (6.922, 129.975, -12) direction (0, 0, 1) diameter 2.8 end through all
pattern_linear "Rectangular Pattern1" count 5 spacing 10 along (0, -1, 0) of "Hole1"
properties part number "30_cellSTORM_UC2_motorized_xystage_coupler_fiberlauncher"
